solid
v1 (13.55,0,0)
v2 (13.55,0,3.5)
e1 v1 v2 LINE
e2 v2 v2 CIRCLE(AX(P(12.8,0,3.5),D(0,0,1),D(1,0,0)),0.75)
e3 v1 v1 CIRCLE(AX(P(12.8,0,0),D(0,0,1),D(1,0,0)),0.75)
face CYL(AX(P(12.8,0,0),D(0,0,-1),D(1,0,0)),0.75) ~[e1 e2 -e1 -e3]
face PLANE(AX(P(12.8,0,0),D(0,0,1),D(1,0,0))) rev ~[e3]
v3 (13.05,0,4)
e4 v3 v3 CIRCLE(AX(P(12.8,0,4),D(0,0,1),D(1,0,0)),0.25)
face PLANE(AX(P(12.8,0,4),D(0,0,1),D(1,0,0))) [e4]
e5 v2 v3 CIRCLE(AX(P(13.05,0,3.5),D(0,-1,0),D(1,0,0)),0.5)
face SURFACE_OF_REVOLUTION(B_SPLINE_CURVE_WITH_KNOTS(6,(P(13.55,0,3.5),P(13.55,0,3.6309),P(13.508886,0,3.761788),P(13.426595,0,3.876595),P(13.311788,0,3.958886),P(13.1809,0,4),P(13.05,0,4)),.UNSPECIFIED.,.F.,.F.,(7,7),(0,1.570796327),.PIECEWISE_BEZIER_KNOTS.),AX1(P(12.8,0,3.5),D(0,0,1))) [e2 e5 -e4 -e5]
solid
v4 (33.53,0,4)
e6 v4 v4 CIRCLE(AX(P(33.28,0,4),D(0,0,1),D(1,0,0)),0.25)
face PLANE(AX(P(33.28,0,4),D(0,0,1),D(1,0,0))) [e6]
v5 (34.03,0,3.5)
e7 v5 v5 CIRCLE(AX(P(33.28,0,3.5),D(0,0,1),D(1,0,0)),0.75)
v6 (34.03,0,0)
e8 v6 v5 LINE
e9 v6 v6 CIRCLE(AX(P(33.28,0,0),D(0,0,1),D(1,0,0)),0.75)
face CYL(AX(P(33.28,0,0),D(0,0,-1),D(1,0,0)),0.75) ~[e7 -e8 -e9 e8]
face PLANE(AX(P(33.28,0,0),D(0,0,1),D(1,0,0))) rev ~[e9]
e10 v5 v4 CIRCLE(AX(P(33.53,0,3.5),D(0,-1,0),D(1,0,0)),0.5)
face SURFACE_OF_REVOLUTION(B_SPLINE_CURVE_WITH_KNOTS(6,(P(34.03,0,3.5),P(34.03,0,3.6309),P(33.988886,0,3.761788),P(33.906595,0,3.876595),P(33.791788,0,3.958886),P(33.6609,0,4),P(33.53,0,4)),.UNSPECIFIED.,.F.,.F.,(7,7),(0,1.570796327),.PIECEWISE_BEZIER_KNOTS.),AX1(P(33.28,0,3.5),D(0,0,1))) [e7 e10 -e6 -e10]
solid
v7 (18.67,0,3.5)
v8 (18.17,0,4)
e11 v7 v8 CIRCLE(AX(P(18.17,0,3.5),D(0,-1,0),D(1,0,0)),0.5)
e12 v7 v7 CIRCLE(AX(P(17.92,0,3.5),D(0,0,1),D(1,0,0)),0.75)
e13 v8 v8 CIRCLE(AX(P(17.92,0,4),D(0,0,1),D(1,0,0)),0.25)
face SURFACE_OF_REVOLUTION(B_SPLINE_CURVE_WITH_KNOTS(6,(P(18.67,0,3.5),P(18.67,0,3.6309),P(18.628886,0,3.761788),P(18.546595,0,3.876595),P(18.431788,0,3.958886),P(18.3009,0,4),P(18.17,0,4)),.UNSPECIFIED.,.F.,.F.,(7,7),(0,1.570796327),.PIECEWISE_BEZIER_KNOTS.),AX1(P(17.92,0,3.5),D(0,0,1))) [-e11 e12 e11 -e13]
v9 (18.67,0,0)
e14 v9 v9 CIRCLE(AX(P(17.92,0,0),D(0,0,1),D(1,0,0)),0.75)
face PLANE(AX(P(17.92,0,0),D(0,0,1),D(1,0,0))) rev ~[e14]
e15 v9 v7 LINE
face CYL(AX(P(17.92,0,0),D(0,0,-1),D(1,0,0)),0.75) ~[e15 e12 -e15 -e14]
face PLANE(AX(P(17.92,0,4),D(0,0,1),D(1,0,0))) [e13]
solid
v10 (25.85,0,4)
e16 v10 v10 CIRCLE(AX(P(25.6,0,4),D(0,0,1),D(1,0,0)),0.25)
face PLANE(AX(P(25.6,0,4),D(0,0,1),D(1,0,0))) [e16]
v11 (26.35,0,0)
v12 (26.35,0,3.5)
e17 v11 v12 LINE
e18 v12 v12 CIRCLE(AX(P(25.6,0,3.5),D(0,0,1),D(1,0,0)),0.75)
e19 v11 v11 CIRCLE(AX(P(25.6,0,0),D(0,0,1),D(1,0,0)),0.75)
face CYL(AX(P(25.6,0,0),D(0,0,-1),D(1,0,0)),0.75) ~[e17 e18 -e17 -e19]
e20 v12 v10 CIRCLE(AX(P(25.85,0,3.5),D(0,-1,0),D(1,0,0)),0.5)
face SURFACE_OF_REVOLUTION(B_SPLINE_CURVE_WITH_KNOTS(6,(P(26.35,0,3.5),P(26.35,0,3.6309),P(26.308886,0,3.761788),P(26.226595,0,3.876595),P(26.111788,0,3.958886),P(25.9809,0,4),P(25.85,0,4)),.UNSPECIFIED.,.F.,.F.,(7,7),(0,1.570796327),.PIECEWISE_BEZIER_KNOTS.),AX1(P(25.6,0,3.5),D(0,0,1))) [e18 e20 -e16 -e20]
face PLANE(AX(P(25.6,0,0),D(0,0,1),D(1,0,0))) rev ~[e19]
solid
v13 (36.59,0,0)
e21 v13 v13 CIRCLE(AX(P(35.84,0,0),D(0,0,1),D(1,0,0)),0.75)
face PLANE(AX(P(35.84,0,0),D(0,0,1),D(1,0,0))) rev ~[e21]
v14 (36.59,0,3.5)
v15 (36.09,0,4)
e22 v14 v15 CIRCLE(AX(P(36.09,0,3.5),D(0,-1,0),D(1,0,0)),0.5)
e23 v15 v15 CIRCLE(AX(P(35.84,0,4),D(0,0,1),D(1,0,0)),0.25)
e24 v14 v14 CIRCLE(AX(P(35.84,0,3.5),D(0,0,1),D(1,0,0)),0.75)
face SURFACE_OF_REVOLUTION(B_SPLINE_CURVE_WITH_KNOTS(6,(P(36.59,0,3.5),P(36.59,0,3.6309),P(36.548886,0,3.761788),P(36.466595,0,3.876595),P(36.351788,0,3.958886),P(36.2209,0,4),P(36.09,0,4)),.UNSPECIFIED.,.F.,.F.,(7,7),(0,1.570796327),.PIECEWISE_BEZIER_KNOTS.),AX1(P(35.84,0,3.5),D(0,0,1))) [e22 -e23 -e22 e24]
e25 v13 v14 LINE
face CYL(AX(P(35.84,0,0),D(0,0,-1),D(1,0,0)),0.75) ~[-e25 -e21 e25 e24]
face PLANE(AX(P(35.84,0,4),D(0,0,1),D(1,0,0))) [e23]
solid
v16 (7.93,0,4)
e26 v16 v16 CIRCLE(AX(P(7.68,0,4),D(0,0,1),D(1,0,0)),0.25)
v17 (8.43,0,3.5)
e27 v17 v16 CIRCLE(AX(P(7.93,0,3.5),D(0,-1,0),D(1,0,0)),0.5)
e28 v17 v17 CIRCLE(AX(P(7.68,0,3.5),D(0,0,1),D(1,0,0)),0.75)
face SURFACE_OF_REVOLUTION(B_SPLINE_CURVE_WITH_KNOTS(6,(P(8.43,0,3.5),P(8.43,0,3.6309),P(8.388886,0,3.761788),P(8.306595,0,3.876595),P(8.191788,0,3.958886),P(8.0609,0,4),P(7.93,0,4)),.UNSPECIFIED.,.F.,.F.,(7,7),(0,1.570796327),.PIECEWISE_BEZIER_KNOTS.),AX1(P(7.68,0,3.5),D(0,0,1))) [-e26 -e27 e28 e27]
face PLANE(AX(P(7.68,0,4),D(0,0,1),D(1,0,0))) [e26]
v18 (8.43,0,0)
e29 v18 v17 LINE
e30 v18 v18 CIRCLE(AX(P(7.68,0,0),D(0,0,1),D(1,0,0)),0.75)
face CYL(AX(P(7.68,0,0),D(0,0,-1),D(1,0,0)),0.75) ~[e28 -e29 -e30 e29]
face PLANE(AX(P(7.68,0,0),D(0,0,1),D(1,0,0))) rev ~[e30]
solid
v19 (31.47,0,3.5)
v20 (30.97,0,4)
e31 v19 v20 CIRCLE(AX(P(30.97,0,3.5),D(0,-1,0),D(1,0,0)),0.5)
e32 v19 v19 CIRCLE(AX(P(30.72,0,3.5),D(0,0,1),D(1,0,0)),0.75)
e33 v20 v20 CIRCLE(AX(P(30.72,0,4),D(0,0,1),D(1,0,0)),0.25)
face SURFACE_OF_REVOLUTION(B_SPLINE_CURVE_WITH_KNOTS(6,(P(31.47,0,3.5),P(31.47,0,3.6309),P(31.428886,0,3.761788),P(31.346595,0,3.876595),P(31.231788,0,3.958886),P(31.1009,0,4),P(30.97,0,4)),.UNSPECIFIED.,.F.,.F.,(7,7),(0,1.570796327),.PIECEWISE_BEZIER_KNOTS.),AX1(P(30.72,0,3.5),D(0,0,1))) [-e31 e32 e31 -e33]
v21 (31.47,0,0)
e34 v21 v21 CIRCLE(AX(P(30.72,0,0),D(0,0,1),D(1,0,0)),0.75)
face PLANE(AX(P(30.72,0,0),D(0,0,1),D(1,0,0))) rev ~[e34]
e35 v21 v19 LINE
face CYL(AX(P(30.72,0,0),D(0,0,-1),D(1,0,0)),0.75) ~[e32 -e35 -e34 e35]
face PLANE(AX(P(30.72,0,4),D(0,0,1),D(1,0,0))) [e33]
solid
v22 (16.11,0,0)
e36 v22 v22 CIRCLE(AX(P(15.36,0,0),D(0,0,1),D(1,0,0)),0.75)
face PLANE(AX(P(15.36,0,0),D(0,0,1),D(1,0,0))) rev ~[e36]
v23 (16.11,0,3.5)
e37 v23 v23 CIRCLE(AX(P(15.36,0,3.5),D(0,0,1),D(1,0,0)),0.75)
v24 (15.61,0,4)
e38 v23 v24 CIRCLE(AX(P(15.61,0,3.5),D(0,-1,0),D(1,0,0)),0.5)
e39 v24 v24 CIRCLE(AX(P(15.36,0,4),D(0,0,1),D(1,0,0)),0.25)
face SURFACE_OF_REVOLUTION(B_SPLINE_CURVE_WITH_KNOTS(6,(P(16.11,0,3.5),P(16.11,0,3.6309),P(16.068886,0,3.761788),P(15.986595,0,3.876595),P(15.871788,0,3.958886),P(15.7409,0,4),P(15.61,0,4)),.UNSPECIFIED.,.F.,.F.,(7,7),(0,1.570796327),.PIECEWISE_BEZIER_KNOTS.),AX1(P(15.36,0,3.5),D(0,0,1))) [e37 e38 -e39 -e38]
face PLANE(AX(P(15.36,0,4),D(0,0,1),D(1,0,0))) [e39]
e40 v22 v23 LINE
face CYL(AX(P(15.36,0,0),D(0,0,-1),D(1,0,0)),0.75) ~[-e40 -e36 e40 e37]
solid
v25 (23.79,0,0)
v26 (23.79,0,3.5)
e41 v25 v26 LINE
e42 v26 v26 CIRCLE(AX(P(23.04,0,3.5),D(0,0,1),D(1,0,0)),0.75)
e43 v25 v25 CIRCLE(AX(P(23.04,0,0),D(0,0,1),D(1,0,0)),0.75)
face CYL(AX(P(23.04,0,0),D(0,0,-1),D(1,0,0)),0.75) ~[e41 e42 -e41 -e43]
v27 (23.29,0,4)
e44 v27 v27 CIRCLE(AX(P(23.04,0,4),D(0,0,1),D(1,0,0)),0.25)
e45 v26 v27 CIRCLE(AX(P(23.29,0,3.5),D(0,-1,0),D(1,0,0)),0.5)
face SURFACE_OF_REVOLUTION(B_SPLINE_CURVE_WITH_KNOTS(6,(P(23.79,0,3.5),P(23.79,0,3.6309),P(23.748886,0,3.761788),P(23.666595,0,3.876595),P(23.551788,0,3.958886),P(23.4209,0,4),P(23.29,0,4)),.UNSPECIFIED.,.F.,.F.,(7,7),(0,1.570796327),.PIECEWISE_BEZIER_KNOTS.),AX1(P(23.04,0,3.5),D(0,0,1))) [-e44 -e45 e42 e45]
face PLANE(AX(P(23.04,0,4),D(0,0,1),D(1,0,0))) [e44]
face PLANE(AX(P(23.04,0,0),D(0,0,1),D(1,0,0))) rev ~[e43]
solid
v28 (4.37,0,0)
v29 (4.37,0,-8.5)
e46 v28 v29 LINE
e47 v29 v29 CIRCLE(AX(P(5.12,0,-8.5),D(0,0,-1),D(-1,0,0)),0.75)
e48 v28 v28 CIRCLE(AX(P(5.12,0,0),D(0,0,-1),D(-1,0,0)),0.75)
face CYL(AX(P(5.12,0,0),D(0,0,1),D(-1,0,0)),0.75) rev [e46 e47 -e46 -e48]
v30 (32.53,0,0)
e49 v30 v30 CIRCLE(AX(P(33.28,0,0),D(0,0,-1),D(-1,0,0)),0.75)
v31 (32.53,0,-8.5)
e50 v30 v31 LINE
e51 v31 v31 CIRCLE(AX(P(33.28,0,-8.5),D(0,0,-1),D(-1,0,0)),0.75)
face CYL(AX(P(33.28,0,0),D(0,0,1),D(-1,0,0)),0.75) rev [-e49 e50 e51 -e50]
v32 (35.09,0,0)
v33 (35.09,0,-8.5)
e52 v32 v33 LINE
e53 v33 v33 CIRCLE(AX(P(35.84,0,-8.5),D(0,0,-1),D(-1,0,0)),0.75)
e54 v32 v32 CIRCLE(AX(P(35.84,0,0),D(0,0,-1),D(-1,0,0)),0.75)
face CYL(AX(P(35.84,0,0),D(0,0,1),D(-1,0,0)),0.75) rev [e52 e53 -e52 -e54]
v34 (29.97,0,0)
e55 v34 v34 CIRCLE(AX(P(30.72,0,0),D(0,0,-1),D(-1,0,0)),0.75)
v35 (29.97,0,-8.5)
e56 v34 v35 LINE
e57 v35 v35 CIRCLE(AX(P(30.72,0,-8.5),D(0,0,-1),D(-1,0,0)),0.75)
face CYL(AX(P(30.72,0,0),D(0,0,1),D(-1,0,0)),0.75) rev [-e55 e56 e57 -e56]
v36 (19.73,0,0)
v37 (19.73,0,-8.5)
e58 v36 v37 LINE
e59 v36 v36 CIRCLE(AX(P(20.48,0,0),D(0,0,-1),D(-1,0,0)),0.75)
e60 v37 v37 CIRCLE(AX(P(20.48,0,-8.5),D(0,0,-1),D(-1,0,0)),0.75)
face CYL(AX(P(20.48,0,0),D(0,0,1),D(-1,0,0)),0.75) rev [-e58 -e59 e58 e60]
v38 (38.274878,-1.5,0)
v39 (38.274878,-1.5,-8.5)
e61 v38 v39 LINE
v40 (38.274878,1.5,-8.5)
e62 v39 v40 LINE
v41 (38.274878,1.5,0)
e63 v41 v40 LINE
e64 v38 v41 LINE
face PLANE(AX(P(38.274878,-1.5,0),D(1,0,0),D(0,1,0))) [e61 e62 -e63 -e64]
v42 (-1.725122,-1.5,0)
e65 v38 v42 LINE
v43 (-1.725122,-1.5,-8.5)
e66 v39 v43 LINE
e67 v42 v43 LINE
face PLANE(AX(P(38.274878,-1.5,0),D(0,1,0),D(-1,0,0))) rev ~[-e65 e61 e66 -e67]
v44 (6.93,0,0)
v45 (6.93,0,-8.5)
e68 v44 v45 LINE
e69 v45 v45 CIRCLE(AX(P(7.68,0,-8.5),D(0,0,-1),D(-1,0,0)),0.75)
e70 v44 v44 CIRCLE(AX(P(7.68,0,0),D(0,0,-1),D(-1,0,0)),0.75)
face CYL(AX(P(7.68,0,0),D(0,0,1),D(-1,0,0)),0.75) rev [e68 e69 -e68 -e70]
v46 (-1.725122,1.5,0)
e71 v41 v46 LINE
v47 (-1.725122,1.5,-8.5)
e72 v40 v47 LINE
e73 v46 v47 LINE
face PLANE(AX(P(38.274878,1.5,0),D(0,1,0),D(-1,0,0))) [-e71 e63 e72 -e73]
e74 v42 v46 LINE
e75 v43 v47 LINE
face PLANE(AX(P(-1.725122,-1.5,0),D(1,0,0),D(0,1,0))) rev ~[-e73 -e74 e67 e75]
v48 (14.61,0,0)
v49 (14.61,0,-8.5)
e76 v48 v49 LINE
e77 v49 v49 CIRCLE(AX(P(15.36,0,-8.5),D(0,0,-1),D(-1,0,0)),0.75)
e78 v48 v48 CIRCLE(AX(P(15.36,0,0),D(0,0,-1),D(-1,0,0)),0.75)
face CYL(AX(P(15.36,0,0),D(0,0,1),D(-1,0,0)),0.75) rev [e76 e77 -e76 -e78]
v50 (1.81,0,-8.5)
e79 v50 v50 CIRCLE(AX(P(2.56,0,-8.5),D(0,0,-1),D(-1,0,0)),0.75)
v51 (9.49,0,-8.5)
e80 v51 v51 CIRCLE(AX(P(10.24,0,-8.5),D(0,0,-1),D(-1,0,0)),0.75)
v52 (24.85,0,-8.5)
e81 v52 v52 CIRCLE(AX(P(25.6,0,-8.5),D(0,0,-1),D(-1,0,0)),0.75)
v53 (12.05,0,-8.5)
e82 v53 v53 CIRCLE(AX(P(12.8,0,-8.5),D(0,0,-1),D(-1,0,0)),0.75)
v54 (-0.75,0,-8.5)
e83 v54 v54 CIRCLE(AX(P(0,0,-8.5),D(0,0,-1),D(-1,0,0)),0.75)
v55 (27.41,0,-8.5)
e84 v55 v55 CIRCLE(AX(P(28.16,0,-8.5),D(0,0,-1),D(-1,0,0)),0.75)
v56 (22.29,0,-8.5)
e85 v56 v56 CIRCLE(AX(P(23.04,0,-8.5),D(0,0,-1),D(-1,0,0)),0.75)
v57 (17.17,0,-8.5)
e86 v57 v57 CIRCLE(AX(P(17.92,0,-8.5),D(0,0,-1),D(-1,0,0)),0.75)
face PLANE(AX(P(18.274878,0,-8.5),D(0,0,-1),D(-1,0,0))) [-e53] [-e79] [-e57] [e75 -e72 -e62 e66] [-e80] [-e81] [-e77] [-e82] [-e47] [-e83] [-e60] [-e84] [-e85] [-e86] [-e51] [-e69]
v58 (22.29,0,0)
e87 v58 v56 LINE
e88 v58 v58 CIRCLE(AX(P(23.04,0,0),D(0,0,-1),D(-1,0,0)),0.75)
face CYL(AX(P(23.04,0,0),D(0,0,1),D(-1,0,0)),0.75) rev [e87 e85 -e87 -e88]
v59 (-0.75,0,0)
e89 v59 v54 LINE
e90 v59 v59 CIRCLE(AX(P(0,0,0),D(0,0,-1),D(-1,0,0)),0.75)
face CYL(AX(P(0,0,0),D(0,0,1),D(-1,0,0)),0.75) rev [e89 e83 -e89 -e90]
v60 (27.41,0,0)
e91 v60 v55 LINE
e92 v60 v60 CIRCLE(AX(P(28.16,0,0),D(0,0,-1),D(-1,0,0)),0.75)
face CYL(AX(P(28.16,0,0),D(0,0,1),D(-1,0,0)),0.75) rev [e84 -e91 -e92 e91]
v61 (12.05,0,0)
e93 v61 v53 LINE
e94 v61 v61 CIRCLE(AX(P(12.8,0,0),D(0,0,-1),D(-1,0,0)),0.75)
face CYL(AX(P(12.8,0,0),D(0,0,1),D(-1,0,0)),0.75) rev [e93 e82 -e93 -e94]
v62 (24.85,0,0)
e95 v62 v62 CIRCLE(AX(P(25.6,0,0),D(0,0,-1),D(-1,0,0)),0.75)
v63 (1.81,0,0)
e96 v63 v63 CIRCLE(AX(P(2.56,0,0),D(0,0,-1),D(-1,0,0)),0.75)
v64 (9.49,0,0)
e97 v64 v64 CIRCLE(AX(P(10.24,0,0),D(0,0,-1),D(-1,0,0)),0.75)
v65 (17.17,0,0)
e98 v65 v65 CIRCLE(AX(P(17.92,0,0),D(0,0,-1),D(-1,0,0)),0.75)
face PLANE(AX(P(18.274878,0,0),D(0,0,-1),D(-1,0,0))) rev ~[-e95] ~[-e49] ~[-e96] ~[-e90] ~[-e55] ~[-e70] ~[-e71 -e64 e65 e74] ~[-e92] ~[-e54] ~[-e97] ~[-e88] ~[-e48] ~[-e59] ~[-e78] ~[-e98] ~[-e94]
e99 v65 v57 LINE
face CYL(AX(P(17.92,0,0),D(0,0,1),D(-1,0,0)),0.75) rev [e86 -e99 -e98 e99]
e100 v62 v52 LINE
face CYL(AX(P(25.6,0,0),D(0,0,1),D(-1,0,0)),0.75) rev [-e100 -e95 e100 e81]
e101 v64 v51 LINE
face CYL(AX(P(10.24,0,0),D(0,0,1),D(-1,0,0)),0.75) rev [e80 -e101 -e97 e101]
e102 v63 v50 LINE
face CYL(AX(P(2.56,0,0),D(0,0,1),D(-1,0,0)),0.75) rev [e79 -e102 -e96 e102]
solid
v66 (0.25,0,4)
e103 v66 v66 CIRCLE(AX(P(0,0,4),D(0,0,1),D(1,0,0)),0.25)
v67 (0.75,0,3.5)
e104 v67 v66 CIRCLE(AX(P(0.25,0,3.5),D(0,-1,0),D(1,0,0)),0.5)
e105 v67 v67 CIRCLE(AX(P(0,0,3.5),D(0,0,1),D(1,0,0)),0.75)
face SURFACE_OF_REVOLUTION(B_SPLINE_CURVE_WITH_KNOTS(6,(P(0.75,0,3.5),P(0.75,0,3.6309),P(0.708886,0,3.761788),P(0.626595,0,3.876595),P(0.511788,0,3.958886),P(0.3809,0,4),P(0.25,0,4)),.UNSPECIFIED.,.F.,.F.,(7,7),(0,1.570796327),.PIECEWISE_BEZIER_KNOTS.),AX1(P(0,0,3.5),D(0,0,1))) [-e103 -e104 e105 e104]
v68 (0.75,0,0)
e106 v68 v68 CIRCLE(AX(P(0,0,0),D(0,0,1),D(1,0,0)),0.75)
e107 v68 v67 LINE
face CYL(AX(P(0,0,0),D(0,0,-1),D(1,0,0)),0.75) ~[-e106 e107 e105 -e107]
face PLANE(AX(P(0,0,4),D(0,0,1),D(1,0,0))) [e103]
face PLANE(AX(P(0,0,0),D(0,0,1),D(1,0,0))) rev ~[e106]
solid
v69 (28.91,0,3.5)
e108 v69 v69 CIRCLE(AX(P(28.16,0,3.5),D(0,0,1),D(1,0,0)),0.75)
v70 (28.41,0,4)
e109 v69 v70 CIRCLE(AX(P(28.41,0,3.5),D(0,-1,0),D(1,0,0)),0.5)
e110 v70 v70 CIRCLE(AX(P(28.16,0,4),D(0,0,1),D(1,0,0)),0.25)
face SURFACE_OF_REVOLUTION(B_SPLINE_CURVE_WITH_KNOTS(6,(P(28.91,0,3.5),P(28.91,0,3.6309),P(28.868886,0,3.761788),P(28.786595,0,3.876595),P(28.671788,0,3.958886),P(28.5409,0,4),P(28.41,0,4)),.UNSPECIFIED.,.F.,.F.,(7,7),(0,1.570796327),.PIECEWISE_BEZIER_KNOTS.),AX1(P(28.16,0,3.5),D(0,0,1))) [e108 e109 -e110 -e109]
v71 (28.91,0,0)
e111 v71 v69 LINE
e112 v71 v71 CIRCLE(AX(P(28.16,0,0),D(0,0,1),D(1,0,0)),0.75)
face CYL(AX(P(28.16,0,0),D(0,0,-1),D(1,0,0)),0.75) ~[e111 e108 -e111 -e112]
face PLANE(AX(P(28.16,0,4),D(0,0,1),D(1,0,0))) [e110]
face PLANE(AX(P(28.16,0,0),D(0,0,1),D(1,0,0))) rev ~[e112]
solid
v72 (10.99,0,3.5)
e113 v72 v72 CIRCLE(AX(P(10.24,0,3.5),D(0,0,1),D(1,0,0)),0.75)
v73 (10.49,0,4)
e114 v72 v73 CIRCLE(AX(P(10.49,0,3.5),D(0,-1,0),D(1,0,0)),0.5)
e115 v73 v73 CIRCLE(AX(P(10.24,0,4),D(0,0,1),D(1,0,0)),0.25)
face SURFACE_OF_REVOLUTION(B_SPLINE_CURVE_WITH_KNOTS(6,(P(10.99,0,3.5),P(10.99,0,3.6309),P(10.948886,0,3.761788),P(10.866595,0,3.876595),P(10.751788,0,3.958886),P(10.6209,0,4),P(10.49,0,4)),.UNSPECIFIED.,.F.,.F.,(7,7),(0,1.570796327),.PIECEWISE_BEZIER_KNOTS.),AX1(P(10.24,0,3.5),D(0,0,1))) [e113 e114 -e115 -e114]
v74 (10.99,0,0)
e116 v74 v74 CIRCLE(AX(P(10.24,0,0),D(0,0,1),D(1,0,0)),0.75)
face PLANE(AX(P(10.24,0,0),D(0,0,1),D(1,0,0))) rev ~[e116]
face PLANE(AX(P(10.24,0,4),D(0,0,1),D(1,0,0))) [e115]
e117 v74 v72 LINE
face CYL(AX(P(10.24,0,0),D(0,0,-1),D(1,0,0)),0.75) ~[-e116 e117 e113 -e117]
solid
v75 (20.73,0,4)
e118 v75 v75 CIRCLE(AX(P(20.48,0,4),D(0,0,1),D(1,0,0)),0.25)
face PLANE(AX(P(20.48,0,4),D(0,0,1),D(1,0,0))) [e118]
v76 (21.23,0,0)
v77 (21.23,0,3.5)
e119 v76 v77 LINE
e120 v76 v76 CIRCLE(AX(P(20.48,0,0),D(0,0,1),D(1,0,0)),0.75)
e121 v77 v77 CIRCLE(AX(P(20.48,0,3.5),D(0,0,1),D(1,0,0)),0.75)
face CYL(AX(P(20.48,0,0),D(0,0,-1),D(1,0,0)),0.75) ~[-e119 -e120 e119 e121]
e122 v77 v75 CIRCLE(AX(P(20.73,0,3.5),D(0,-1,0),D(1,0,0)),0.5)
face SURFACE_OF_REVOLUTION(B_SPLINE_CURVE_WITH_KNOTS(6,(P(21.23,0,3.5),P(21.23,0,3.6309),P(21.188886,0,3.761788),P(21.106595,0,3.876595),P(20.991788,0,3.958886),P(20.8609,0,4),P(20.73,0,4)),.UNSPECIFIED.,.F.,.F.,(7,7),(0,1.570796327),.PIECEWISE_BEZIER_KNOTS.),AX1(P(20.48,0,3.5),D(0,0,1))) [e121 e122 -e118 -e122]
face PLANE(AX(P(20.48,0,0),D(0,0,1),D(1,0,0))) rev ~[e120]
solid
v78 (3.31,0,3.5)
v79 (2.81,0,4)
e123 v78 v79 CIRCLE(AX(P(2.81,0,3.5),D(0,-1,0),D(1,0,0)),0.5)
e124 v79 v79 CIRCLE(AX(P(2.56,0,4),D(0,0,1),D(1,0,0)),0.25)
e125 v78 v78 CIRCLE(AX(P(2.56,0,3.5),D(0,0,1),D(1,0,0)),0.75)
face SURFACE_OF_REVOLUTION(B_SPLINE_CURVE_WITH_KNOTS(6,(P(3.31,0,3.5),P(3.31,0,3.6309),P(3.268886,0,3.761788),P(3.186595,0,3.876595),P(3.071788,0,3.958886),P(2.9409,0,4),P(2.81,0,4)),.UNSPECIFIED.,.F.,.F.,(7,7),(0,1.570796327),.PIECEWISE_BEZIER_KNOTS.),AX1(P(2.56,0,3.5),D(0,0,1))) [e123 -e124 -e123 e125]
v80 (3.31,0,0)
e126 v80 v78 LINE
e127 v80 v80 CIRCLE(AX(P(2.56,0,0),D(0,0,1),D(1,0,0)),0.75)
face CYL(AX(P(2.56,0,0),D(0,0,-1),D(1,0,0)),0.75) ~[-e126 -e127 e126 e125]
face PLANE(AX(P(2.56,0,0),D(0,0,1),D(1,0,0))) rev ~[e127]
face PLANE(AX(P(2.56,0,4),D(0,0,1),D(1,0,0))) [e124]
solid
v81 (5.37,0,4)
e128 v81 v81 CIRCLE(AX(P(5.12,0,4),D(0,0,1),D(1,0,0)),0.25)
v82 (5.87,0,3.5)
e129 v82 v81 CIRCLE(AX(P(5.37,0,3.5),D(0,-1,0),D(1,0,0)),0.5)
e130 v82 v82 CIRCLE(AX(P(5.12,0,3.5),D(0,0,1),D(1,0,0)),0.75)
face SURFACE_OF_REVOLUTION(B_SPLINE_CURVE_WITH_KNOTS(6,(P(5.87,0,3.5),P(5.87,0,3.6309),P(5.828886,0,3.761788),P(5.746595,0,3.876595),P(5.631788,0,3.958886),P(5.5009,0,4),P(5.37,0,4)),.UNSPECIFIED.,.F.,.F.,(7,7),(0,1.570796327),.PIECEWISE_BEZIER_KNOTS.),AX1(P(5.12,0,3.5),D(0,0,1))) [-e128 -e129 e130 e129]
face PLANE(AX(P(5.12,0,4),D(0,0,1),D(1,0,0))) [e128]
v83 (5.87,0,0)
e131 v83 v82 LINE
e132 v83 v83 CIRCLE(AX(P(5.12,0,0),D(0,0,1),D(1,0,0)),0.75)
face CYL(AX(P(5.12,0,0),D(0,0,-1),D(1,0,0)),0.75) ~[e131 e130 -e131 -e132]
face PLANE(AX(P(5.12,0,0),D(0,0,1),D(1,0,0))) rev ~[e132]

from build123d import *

# Parameters (mm, degrees)
SKETCH1_R              = 0.75
BOSS_EXTRUDE1_DEPTH    = 4
BOSS_EXTRUDE1_2_DEPTH  = 4
BOSS_EXTRUDE1_3_DEPTH  = 4
BOSS_EXTRUDE1_4_DEPTH  = 4
BOSS_EXTRUDE1_5_DEPTH  = 4
BOSS_EXTRUDE1_6_DEPTH  = 4
BOSS_EXTRUDE1_7_DEPTH  = 4
BOSS_EXTRUDE1_8_DEPTH  = 4
BOSS_EXTRUDE1_9_DEPTH  = 4
BOSS_EXTRUDE1_10_DEPTH = 4
BOSS_EXTRUDE1_11_DEPTH = 4
BOSS_EXTRUDE1_12_DEPTH = 4
BOSS_EXTRUDE1_13_DEPTH = 4
BOSS_EXTRUDE1_14_DEPTH = 4
BOSS_EXTRUDE1_15_DEPTH = 4
FILLET1_R              = 0.5
SKETCH2_W              = 40
SKETCH2_H              = 3
SKETCH2_R              = 0.75
BOSS_EXTRUDE2_DEPTH    = 8.5
FILLET2_R              = 0.5
FILLET3_R              = 0.5
FILLET4_R              = 0.5
FILLET5_R              = 0.5
FILLET6_R              = 0.5
FILLET7_R              = 0.5
FILLET8_R              = 0.5
FILLET9_R              = 0.5
FILLET10_R             = 0.5
FILLET11_R             = 0.5
FILLET12_R             = 0.5
FILLET13_R             = 0.5
FILLET14_R             = 0.5
FILLET15_R             = 0.5


with BuildPart() as part:
    # Sketch1 → Boss-Extrude1 (new body)
    with BuildSketch(Plane.XY):
        Circle(SKETCH1_R)
    extrude(amount=BOSS_EXTRUDE1_DEPTH)

    # Fillet1
    fillet1_edges = [part.edges().sort_by_distance(p)[0] for p in [
        (-0.75, 0, 4),
    ]]
    fillet(fillet1_edges, radius=FILLET1_R)


with BuildPart() as body_2:
    # Sketch1 → Boss-Extrude1 2 (new body)
    with BuildSketch(Plane.XY):
        with Locations((2.56, 0)):
            Circle(SKETCH1_R)
    extrude(amount=BOSS_EXTRUDE1_2_DEPTH)

    # Fillet2
    fillet2_edges = [body_2.edges().sort_by_distance(p)[0] for p in [
        (1.81, 0, 4),
    ]]
    fillet(fillet2_edges, radius=FILLET2_R)


with BuildPart() as body_3:
    # Sketch1 → Boss-Extrude1 3 (new body)
    with BuildSketch(Plane.XY):
        with Locations((5.12, 0)):
            Circle(SKETCH1_R)
    extrude(amount=BOSS_EXTRUDE1_3_DEPTH)

    # Fillet3
    fillet3_edges = [body_3.edges().sort_by_distance(p)[0] for p in [
        (4.37, 0, 4),
    ]]
    fillet(fillet3_edges, radius=FILLET3_R)


with BuildPart() as body_4:
    # Sketch1 → Boss-Extrude1 4 (new body)
    with BuildSketch(Plane.XY):
        with Locations((7.68, 0)):
            Circle(SKETCH1_R)
    extrude(amount=BOSS_EXTRUDE1_4_DEPTH)

    # Fillet4
    fillet4_edges = [body_4.edges().sort_by_distance(p)[0] for p in [
        (6.93, 0, 4),
    ]]
    fillet(fillet4_edges, radius=FILLET4_R)


with BuildPart() as body_5:
    # Sketch1 → Boss-Extrude1 5 (new body)
    with BuildSketch(Plane.XY):
        with Locations((10.24, 0)):
            Circle(SKETCH1_R)
    extrude(amount=BOSS_EXTRUDE1_5_DEPTH)

    # Fillet5
    fillet5_edges = [body_5.edges().sort_by_distance(p)[0] for p in [
        (9.49, 0, 4),
    ]]
    fillet(fillet5_edges, radius=FILLET5_R)


with BuildPart() as body_6:
    # Sketch1 → Boss-Extrude1 6 (new body)
    with BuildSketch(Plane.XY):
        with Locations((12.8, 0)):
            Circle(SKETCH1_R)
    extrude(amount=BOSS_EXTRUDE1_6_DEPTH)

    # Fillet6
    fillet6_edges = [body_6.edges().sort_by_distance(p)[0] for p in [
        (12.05, 0, 4),
    ]]
    fillet(fillet6_edges, radius=FILLET6_R)


with BuildPart() as body_7:
    # Sketch1 → Boss-Extrude1 7 (new body)
    with BuildSketch(Plane.XY):
        with Locations((15.36, 0)):
            Circle(SKETCH1_R)
    extrude(amount=BOSS_EXTRUDE1_7_DEPTH)

    # Fillet7
    fillet7_edges = [body_7.edges().sort_by_distance(p)[0] for p in [
        (14.61, 0, 4),
    ]]
    fillet(fillet7_edges, radius=FILLET7_R)


with BuildPart() as body_8:
    # Sketch1 → Boss-Extrude1 8 (new body)
    with BuildSketch(Plane.XY):
        with Locations((17.92, 0)):
            Circle(SKETCH1_R)
    extrude(amount=BOSS_EXTRUDE1_8_DEPTH)

    # Fillet8
    fillet8_edges = [body_8.edges().sort_by_distance(p)[0] for p in [
        (17.17, 0, 4),
    ]]
    fillet(fillet8_edges, radius=FILLET8_R)


with BuildPart() as body_9:
    # Sketch1 → Boss-Extrude1 9 (new body)
    with BuildSketch(Plane.XY):
        with Locations((20.48, 0)):
            Circle(SKETCH1_R)
    extrude(amount=BOSS_EXTRUDE1_9_DEPTH)

    # Fillet9
    fillet9_edges = [body_9.edges().sort_by_distance(p)[0] for p in [
        (19.73, 0, 4),
    ]]
    fillet(fillet9_edges, radius=FILLET9_R)


with BuildPart() as body_10:
    # Sketch1 → Boss-Extrude1 10 (new body)
    with BuildSketch(Plane.XY):
        with Locations((23.04, 0)):
            Circle(SKETCH1_R)
    extrude(amount=BOSS_EXTRUDE1_10_DEPTH)

    # Fillet10
    fillet10_edges = [body_10.edges().sort_by_distance(p)[0] for p in [
        (22.29, 0, 4),
    ]]
    fillet(fillet10_edges, radius=FILLET10_R)


with BuildPart() as body_11:
    # Sketch1 → Boss-Extrude1 11 (new body)
    with BuildSketch(Plane.XY):
        with Locations((25.6, 0)):
            Circle(SKETCH1_R)
    extrude(amount=BOSS_EXTRUDE1_11_DEPTH)

    # Fillet11
    fillet11_edges = [body_11.edges().sort_by_distance(p)[0] for p in [
        (24.85, 0, 4),
    ]]
    fillet(fillet11_edges, radius=FILLET11_R)


with BuildPart() as body_12:
    # Sketch1 → Boss-Extrude1 12 (new body)
    with BuildSketch(Plane.XY):
        with Locations((28.16, 0)):
            Circle(SKETCH1_R)
    extrude(amount=BOSS_EXTRUDE1_12_DEPTH)

    # Fillet12
    fillet12_edges = [body_12.edges().sort_by_distance(p)[0] for p in [
        (27.41, 0, 4),
    ]]
    fillet(fillet12_edges, radius=FILLET12_R)


with BuildPart() as body_13:
    # Sketch1 → Boss-Extrude1 13 (new body)
    with BuildSketch(Plane.XY):
        with Locations((30.72, 0)):
            Circle(SKETCH1_R)
    extrude(amount=BOSS_EXTRUDE1_13_DEPTH)

    # Fillet13
    fillet13_edges = [body_13.edges().sort_by_distance(p)[0] for p in [
        (29.97, 0, 4),
    ]]
    fillet(fillet13_edges, radius=FILLET13_R)


with BuildPart() as body_14:
    # Sketch1 → Boss-Extrude1 14 (new body)
    with BuildSketch(Plane.XY):
        with Locations((33.28, 0)):
            Circle(SKETCH1_R)
    extrude(amount=BOSS_EXTRUDE1_14_DEPTH)

    # Fillet14
    fillet14_edges = [body_14.edges().sort_by_distance(p)[0] for p in [
        (32.53, 0, 4),
    ]]
    fillet(fillet14_edges, radius=FILLET14_R)


with BuildPart() as body_15:
    # Sketch1 → Boss-Extrude1 15 (new body)
    with BuildSketch(Plane.XY):
        with Locations((35.84, 0)):
            Circle(SKETCH1_R)
    extrude(amount=BOSS_EXTRUDE1_15_DEPTH)

    # Fillet15
    fillet15_edges = [body_15.edges().sort_by_distance(p)[0] for p in [
        (35.09, 0, 4),
    ]]
    fillet(fillet15_edges, radius=FILLET15_R)


with BuildPart() as body_16:
    # Sketch2 → Boss-Extrude2 (new body)
    with BuildSketch(Plane(origin=(0, 0, 0), x_dir=(-1, 0, 0), z_dir=(0, 0, -1))):
        with Locations((-18.274877859, 0)):
            Rectangle(SKETCH2_W, SKETCH2_H)
        with Locations((-30.72, 0)):
            Circle(SKETCH2_R, mode=Mode.SUBTRACT)
        with Locations((-28.16, 0)):
            Circle(SKETCH2_R, mode=Mode.SUBTRACT)
        with Locations((-25.6, 0)):
            Circle(SKETCH2_R, mode=Mode.SUBTRACT)
        with Locations((-23.04, 0)):
            Circle(SKETCH2_R, mode=Mode.SUBTRACT)
        with Locations((-20.48, 0)):
            Circle(SKETCH2_R, mode=Mode.SUBTRACT)
        with Locations((-10.24, 0)):
            Circle(SKETCH2_R, mode=Mode.SUBTRACT)
        with Locations((-35.84, 0)):
            Circle(SKETCH2_R, mode=Mode.SUBTRACT)
        with Locations((-33.28, 0)):
            Circle(SKETCH2_R, mode=Mode.SUBTRACT)
        with Locations((-17.92, 0)):
            Circle(SKETCH2_R, mode=Mode.SUBTRACT)
        with Locations((-15.36, 0)):
            Circle(SKETCH2_R, mode=Mode.SUBTRACT)
        with Locations((-12.8, 0)):
            Circle(SKETCH2_R, mode=Mode.SUBTRACT)
        with Locations((-7.68, 0)):
            Circle(SKETCH2_R, mode=Mode.SUBTRACT)
        with Locations((-5.12, 0)):
            Circle(SKETCH2_R, mode=Mode.SUBTRACT)
        with Locations((-2.56, 0)):
            Circle(SKETCH2_R, mode=Mode.SUBTRACT)
        Circle(SKETCH2_R, mode=Mode.SUBTRACT)
    extrude(amount=BOSS_EXTRUDE2_DEPTH)


solid = Compound([part.part, body_2.part, body_3.part, body_4.part, body_5.part, body_6.part, body_7.part, body_8.part, body_9.part, body_10.part, body_11.part, body_12.part, body_13.part, body_14.part, body_15.part, body_16.part])
